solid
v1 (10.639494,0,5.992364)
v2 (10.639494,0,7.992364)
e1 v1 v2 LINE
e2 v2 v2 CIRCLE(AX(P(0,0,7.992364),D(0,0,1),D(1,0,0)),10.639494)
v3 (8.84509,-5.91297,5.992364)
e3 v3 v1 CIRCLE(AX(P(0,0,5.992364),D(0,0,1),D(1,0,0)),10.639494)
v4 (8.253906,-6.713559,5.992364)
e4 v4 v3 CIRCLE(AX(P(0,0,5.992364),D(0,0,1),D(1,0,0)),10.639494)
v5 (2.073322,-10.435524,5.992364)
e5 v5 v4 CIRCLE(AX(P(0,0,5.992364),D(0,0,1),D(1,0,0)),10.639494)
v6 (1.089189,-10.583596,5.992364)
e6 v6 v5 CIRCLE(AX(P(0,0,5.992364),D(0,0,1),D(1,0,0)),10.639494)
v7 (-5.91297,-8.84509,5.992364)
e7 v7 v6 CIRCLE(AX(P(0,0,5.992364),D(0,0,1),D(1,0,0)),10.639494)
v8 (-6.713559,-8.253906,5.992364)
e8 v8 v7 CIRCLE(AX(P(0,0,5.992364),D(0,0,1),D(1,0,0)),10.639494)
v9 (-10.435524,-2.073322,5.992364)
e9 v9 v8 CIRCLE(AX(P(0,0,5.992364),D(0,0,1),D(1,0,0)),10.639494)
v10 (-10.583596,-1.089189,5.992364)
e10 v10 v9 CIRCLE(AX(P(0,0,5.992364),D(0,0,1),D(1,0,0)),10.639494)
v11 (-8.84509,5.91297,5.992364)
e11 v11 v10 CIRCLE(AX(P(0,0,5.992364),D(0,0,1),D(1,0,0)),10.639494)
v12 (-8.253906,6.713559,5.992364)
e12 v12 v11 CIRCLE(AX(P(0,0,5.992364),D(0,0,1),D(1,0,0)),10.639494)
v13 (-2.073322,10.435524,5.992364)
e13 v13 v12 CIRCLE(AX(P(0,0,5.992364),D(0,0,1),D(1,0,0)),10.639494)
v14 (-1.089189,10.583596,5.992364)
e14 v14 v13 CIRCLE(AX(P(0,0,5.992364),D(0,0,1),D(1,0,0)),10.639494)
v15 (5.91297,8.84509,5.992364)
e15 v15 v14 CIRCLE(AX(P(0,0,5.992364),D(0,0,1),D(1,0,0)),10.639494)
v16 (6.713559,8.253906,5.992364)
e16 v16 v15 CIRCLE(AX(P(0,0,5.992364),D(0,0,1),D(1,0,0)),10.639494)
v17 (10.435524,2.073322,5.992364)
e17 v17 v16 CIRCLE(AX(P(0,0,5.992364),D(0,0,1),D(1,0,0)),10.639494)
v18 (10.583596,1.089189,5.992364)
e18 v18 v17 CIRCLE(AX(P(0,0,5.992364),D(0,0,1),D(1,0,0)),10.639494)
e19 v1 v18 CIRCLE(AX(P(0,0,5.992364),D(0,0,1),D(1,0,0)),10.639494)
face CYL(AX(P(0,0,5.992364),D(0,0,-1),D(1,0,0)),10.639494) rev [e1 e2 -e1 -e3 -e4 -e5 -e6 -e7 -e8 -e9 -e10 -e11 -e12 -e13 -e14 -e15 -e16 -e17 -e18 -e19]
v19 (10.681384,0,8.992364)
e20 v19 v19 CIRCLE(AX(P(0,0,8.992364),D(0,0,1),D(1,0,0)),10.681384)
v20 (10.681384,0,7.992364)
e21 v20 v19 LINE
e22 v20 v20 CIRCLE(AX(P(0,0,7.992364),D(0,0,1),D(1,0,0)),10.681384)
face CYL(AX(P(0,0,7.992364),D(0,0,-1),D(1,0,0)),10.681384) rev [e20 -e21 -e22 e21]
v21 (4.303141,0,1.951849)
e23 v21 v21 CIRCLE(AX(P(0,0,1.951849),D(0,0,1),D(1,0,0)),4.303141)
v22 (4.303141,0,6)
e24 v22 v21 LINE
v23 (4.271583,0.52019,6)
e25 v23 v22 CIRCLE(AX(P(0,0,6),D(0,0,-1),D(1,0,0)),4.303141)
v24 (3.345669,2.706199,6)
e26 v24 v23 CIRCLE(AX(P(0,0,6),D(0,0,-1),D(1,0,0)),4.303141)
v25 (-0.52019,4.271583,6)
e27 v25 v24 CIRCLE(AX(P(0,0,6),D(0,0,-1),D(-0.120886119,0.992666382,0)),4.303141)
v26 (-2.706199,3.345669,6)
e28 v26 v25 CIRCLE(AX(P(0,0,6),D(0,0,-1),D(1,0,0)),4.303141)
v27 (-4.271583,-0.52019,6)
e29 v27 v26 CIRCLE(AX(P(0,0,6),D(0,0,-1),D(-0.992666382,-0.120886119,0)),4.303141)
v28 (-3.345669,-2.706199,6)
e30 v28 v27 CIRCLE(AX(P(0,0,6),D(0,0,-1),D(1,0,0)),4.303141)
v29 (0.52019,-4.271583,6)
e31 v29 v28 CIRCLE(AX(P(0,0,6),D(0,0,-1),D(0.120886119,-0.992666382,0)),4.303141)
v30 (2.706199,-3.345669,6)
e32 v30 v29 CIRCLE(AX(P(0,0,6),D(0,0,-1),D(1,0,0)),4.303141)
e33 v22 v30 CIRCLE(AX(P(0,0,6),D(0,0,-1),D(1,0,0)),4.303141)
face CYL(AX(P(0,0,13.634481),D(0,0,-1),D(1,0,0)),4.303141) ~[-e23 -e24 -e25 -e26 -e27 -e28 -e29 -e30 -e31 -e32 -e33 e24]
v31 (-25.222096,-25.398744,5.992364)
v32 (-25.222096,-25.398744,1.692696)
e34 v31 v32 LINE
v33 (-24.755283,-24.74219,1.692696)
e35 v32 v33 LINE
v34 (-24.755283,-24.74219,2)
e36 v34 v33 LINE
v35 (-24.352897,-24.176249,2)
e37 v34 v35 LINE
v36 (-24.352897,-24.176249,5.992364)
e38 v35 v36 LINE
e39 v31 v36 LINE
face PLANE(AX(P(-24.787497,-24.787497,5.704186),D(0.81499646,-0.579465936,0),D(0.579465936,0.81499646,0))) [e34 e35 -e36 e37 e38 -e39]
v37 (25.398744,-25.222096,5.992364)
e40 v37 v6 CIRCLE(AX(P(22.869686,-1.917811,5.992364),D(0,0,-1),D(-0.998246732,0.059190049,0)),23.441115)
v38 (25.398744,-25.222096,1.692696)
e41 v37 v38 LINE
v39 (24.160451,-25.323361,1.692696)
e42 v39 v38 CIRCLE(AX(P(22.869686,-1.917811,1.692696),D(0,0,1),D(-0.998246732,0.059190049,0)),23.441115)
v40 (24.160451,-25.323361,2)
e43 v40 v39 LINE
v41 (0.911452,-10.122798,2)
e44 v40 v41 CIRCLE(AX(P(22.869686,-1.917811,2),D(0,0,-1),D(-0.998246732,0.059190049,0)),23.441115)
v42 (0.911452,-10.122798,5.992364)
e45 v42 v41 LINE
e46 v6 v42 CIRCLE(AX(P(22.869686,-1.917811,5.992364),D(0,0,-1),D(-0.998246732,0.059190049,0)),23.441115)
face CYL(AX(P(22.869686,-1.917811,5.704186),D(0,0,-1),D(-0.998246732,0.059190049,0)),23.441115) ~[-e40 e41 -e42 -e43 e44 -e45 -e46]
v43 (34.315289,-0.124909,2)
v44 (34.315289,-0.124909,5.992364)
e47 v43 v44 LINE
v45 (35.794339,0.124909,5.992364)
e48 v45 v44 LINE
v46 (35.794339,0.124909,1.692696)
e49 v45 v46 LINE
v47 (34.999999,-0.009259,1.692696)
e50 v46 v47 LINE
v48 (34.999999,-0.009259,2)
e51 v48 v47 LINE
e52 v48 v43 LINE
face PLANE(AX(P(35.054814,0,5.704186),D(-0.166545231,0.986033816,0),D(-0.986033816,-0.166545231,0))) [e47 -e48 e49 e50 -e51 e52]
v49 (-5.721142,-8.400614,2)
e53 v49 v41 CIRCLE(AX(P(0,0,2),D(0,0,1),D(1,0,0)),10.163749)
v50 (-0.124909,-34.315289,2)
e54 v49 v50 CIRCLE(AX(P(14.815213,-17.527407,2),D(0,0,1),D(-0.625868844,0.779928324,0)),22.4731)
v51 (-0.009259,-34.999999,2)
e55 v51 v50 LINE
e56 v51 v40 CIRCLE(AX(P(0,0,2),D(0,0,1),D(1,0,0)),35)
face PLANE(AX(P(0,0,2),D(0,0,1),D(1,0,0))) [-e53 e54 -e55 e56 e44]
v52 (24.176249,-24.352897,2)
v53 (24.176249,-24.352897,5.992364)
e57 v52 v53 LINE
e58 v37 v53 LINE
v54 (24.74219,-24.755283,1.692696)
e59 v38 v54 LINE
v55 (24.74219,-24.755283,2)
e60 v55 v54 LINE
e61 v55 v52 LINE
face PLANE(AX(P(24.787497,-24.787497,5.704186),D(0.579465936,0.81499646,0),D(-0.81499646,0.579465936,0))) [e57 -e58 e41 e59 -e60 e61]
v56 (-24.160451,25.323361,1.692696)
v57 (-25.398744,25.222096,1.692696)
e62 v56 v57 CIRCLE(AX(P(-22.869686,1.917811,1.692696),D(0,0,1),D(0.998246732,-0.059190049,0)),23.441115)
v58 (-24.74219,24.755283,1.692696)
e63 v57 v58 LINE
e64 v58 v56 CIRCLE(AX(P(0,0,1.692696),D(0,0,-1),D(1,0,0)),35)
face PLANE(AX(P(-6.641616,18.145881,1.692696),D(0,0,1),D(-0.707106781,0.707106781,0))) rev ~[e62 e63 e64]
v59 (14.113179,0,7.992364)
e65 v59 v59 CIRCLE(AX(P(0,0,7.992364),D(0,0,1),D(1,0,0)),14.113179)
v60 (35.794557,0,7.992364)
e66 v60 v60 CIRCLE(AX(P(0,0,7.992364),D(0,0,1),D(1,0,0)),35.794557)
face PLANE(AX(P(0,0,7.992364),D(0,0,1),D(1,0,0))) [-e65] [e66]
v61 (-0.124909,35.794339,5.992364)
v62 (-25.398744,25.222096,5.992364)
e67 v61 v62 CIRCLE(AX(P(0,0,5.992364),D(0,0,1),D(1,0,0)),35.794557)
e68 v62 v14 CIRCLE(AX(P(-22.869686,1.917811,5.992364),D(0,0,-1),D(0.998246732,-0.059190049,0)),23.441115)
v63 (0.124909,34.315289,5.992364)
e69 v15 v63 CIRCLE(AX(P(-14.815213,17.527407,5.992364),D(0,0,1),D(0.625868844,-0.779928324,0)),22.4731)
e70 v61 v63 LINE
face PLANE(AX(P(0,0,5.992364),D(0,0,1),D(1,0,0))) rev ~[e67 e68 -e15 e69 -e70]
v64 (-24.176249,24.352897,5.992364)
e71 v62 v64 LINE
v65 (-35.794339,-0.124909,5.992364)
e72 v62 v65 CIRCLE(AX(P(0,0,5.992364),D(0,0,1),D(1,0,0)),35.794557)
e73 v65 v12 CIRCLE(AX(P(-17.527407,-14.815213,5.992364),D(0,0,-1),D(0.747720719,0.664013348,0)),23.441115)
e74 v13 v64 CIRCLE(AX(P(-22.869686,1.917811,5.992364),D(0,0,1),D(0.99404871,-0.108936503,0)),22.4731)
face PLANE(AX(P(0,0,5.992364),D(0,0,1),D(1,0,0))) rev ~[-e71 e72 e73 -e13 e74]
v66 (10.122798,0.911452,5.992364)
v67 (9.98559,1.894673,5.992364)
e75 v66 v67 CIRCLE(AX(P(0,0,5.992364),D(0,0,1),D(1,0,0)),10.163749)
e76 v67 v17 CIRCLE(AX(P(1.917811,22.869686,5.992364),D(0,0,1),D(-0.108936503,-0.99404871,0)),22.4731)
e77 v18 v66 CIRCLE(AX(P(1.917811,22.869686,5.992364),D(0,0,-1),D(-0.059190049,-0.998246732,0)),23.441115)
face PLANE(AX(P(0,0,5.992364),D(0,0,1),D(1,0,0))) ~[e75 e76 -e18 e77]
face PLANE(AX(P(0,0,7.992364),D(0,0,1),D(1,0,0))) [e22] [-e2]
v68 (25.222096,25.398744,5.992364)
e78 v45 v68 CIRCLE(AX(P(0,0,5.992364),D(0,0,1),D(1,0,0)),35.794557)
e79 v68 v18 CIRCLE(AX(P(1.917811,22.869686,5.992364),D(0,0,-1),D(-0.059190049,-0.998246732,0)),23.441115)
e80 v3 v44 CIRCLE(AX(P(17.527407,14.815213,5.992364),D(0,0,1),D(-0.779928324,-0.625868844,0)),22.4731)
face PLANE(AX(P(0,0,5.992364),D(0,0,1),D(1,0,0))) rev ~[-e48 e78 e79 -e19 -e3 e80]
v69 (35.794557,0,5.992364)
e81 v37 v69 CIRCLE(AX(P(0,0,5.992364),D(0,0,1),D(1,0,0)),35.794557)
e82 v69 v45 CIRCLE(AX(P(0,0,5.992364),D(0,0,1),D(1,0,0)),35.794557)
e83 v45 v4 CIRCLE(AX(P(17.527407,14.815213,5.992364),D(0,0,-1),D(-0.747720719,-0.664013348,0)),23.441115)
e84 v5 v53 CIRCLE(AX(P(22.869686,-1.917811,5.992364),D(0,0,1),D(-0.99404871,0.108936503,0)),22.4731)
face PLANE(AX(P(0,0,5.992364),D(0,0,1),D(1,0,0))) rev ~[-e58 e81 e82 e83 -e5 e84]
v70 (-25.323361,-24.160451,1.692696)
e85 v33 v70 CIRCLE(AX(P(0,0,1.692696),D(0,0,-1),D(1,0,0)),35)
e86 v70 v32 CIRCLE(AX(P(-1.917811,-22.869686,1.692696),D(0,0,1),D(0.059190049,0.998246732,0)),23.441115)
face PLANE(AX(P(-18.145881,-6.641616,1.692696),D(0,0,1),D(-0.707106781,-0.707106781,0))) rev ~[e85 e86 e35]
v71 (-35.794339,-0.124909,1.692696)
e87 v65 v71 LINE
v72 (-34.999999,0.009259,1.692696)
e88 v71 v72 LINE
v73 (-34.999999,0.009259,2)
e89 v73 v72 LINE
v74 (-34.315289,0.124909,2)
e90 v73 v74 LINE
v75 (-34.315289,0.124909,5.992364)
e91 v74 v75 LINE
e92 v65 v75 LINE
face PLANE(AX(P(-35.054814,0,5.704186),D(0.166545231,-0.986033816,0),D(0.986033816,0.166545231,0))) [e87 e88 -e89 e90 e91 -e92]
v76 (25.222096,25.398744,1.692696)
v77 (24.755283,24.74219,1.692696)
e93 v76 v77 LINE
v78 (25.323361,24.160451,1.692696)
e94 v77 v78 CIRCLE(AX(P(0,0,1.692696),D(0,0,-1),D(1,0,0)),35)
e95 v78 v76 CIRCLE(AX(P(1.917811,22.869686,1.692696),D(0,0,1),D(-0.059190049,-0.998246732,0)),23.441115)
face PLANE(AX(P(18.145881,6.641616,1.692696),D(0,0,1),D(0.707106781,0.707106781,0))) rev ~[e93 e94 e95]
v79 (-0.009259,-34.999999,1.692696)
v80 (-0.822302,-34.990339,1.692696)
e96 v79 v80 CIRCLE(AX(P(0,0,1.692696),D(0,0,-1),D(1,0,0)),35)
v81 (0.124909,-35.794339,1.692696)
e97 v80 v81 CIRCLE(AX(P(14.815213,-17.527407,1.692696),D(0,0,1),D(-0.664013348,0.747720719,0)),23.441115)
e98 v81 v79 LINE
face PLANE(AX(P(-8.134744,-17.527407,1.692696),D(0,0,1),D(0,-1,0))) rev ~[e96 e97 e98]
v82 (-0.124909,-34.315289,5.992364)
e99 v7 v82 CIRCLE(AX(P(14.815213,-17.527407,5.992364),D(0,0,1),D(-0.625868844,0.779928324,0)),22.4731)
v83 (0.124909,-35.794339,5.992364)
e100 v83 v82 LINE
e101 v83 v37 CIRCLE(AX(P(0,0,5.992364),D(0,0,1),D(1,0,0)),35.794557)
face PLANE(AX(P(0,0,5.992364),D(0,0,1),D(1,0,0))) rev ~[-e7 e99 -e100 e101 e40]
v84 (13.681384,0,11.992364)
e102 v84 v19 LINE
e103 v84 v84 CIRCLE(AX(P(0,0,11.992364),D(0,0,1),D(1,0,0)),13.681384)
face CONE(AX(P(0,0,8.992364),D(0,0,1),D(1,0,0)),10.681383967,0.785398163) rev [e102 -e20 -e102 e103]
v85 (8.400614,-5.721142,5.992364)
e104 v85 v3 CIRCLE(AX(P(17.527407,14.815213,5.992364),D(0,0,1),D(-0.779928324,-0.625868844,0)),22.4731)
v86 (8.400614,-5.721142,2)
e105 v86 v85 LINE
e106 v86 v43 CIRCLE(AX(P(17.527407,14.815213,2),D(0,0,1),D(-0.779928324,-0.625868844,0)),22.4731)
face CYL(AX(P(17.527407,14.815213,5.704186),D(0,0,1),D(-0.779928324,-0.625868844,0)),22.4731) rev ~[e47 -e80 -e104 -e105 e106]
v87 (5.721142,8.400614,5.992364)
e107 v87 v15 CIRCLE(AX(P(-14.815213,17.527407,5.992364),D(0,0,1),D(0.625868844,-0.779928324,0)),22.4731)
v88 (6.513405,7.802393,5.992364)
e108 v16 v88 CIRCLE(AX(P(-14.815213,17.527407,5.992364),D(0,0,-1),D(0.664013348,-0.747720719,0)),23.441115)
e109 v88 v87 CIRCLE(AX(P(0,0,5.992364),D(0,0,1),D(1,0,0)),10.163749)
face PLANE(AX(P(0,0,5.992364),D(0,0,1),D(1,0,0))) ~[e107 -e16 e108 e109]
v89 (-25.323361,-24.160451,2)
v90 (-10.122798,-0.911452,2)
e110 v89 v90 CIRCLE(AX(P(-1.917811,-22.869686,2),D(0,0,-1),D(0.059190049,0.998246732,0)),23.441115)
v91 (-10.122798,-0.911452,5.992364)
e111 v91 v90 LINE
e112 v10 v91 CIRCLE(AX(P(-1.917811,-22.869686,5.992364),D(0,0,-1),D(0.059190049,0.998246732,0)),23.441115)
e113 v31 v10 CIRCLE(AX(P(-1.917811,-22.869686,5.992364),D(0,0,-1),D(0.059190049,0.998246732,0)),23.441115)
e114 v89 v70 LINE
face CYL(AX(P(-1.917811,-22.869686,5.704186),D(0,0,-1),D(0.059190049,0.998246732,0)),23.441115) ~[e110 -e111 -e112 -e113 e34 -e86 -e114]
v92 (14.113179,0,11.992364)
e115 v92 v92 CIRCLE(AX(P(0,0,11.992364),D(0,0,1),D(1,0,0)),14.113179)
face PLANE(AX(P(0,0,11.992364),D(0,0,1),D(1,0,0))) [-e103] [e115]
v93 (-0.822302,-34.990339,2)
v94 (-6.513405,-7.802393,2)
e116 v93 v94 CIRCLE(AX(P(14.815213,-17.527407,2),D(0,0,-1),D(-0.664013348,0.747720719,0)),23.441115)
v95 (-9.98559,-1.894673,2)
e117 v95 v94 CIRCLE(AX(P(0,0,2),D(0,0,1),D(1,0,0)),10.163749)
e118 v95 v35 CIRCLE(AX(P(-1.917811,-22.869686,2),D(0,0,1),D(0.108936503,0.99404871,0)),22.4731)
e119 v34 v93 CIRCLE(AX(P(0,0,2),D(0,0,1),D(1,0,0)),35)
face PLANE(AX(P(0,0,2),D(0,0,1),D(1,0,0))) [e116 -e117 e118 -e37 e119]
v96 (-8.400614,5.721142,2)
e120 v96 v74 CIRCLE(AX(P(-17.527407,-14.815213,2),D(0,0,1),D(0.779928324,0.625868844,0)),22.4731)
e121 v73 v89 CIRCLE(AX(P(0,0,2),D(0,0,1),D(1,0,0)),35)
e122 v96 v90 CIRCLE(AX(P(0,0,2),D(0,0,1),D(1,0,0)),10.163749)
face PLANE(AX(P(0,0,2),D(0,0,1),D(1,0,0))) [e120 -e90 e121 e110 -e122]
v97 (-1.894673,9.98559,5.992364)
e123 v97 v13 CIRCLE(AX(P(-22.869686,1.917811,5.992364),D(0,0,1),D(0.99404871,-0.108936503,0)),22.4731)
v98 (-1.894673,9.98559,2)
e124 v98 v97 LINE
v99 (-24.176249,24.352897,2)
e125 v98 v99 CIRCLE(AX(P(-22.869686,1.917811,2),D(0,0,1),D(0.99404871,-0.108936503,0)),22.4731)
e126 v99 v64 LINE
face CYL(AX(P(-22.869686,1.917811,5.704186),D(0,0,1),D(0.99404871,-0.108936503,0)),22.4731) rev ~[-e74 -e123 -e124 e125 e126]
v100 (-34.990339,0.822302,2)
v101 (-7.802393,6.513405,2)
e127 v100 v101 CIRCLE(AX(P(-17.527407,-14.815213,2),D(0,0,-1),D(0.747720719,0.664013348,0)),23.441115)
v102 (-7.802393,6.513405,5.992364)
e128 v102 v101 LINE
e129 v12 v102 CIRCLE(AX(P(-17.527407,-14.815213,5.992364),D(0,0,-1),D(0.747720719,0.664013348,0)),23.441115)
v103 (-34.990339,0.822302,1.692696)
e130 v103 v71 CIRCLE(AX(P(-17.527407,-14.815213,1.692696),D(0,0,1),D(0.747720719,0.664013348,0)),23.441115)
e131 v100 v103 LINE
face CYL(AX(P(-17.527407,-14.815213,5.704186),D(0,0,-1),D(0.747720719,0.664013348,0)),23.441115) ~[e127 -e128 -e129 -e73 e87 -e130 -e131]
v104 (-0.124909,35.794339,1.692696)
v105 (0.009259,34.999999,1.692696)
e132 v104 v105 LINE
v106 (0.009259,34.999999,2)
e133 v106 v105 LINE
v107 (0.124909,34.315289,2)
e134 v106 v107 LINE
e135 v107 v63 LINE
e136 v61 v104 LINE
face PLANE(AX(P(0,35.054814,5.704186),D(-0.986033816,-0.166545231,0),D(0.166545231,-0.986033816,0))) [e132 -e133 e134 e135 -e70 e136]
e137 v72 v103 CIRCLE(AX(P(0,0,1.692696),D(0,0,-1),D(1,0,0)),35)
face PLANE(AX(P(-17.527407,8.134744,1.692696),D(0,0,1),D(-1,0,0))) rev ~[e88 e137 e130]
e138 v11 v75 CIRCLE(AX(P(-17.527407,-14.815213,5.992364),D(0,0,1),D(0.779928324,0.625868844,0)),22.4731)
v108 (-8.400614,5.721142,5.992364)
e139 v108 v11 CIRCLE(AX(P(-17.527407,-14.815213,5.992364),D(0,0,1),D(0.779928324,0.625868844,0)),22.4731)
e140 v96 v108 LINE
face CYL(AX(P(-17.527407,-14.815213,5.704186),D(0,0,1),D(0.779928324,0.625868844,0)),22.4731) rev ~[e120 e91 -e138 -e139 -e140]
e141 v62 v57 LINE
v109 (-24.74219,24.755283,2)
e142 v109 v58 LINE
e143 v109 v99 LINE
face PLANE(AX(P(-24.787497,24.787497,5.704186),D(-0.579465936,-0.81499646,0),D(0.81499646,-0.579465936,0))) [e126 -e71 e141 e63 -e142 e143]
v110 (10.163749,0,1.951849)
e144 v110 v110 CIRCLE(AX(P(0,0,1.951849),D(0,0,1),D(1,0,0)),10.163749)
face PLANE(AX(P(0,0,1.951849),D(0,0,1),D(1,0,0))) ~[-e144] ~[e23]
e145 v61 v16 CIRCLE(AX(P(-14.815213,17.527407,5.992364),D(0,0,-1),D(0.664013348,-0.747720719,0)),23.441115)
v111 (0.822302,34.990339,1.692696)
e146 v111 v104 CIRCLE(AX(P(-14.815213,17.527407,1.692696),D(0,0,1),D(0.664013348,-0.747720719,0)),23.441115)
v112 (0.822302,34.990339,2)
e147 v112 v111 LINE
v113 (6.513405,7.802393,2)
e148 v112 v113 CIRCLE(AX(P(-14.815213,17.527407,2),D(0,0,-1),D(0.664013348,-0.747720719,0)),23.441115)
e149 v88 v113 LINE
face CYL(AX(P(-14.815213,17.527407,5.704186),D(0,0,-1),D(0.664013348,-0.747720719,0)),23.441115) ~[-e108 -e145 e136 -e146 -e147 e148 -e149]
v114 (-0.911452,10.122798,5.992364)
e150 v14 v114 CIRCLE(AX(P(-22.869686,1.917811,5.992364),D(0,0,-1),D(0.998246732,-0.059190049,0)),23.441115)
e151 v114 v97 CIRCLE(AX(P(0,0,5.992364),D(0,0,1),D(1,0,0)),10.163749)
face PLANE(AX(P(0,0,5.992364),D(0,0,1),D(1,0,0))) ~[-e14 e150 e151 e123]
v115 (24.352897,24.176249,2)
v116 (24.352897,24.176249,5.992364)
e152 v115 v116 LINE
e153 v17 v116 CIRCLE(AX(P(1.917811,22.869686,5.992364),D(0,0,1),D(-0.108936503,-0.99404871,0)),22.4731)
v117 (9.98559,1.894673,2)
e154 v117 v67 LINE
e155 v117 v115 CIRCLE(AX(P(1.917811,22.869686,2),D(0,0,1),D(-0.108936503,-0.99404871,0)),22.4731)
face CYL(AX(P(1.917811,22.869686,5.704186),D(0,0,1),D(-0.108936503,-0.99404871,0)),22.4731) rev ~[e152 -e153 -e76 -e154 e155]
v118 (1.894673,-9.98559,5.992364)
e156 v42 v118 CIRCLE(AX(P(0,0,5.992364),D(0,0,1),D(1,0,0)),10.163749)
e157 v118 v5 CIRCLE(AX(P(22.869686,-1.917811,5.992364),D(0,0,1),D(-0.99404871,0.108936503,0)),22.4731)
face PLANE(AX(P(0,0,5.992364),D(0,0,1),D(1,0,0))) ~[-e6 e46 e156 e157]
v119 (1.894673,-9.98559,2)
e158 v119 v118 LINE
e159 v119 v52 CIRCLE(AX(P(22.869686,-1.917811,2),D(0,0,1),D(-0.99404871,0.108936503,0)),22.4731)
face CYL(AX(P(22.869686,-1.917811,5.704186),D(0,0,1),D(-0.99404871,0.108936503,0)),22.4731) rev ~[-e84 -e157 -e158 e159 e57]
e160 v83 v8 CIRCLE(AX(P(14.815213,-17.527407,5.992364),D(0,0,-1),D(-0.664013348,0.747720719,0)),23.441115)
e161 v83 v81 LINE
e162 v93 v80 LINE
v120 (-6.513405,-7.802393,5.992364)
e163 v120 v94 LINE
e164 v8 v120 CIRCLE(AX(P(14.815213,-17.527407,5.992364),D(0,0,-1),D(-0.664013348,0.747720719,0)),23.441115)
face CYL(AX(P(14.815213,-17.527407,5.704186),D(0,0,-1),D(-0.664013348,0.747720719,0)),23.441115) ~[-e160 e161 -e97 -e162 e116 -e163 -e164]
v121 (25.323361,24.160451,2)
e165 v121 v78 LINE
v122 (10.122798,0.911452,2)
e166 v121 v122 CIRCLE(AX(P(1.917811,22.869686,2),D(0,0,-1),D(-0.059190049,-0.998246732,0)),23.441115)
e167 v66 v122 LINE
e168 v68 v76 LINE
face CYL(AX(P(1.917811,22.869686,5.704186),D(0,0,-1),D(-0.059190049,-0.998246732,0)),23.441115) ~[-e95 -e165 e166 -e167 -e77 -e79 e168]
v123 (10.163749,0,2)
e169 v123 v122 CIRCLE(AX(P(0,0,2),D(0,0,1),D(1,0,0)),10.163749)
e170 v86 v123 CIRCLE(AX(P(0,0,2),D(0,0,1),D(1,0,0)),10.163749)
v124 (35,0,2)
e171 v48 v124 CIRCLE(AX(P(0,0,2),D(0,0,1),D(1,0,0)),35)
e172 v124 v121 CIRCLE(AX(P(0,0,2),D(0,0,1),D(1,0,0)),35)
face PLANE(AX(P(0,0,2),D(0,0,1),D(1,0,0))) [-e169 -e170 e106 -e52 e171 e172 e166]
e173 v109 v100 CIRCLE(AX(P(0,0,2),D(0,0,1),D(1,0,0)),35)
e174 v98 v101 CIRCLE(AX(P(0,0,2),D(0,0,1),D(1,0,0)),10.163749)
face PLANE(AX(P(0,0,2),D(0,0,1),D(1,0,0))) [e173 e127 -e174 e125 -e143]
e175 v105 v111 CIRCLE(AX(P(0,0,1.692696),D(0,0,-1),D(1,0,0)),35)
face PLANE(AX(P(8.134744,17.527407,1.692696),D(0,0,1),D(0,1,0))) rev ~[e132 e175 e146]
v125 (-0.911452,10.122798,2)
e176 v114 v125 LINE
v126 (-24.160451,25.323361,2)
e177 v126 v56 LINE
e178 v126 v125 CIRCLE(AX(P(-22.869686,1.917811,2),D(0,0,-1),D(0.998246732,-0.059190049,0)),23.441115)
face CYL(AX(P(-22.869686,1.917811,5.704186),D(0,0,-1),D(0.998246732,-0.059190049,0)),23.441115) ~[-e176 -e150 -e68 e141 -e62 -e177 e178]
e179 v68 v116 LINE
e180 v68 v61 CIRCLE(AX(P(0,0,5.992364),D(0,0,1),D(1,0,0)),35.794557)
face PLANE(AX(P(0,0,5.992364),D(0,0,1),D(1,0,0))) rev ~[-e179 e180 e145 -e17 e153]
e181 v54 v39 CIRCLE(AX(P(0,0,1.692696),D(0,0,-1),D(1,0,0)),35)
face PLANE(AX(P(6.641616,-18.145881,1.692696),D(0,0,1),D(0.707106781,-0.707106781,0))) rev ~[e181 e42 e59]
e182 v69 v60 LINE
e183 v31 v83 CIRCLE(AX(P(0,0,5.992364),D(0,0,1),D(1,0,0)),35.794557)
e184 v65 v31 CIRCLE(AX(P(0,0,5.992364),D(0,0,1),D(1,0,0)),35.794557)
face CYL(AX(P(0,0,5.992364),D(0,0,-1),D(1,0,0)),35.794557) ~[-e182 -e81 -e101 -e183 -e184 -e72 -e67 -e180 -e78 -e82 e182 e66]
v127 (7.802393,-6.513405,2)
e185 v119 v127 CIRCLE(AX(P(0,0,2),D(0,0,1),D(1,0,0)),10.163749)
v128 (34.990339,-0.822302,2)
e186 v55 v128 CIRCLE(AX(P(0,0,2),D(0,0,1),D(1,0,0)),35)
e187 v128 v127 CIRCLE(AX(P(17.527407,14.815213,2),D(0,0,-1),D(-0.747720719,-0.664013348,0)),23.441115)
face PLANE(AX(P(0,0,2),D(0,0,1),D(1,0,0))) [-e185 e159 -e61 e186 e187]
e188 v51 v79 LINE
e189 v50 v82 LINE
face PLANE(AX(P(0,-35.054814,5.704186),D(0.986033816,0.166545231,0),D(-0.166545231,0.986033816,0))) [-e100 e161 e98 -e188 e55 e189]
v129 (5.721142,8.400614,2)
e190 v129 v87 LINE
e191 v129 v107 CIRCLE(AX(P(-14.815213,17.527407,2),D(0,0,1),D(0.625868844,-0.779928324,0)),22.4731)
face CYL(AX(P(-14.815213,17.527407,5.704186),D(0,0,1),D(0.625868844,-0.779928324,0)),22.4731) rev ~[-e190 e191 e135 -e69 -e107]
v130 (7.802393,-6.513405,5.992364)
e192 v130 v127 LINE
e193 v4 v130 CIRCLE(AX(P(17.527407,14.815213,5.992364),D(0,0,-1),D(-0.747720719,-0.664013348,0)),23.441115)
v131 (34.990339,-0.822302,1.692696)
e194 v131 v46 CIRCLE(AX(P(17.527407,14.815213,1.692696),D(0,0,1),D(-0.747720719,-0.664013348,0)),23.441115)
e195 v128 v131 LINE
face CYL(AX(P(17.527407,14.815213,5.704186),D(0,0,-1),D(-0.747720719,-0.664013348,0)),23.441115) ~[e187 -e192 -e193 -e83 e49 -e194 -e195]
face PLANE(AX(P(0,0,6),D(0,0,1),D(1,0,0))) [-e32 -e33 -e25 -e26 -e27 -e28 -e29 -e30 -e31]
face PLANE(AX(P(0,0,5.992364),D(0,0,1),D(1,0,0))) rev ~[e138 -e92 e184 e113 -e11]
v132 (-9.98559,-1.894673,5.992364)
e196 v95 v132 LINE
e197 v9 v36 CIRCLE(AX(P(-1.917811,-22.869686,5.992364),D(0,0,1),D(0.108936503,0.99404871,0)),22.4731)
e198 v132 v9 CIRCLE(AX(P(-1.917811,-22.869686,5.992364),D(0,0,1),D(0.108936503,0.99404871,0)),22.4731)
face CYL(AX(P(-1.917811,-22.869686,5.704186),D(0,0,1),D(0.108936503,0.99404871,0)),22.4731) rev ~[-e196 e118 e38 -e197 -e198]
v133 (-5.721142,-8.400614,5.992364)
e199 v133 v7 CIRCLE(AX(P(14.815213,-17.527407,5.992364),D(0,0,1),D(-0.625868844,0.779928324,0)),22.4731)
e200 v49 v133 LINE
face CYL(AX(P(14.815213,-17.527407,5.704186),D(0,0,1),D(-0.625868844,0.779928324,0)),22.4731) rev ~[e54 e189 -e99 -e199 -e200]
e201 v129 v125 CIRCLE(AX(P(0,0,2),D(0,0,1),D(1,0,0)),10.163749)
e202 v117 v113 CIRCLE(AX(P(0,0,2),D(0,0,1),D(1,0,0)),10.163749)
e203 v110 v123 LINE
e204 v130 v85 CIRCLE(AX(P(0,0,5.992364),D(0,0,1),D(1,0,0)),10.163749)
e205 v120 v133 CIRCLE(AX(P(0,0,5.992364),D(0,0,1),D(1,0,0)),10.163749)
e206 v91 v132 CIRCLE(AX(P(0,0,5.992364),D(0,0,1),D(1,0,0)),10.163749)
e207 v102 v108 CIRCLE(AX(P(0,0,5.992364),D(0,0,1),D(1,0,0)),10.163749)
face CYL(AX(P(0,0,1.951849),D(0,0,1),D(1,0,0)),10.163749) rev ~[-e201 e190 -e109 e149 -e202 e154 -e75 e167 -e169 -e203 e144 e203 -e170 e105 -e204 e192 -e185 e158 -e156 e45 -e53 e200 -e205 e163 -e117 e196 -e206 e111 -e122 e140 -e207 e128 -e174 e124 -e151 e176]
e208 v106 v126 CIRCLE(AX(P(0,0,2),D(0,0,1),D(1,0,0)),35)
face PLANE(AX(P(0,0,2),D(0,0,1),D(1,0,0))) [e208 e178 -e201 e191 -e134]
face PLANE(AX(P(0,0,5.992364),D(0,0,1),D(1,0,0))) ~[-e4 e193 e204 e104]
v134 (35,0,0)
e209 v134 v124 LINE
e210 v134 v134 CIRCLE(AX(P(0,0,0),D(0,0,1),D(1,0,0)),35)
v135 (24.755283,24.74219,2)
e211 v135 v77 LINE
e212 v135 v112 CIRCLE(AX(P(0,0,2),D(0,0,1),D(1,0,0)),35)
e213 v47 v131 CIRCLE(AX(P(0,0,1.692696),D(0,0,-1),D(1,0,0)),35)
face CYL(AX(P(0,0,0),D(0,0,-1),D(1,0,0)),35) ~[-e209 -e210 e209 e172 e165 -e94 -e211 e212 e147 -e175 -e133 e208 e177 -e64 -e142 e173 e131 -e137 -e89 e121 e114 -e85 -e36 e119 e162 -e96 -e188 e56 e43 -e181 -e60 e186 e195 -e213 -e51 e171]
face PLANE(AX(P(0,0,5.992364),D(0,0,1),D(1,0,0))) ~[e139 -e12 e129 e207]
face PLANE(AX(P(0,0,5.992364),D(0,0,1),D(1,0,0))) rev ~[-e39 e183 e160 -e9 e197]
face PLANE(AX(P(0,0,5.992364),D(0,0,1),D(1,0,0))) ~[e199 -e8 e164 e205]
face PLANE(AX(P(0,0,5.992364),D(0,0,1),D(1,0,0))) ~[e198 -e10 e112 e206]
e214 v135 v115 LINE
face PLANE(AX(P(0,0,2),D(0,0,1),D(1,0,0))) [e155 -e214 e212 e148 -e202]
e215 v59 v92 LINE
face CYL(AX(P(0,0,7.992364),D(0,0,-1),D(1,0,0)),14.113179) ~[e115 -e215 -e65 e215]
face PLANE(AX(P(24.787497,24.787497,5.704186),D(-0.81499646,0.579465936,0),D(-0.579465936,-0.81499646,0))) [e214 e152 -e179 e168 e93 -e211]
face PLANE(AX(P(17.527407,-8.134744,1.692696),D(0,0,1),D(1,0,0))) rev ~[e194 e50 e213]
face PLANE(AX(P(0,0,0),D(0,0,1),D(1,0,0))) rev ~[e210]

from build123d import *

# Parameters (mm, degrees)
F0_R      = 35
F1_DEPTH  = 2
F2_R      = 5
F3_DEPTH  = 4
F4_W      = 1.5
F4_H      = 8.0229806336
F7_COUNT  = 8
F8_W      = 26.6654435545
F8_H      = 7.6421163976
F10_R     = 35.7945573746
F10_R_2   = 10.639493897
F11_DEPTH = 2
F12_R     = 7.8850304464
F13_DEPTH = 25
F14_R     = 14.11317868
F14_R_2   = 10.6813839673
F15_DEPTH = 4
F16_SIZE  = 3


with BuildPart() as f1:
    # F0 (on Top) → F1 (new body)
    with BuildSketch(Plane.XY):
        Circle(F0_R)
    extrude(amount=F1_DEPTH)



with BuildPart() as f3:
    # F2 (on face) → F3 (new body)
    with BuildSketch(Plane.XY.offset(2)):
        Circle(F2_R)
    extrude(amount=F3_DEPTH)


with BuildPart() as f6:
    # F6: sweep along a path in F5
    with BuildLine(Plane.XY) as f6_path:
        ThreePointArc((0, 0), (-8.1347441665, -17.5274070352), (0, -35.0548140705))
    # F4 (on Front) → F6 (sweep)
    with BuildSketch(Plane.XZ):
        with Locations((0, 5.7041863911)):
            Rectangle(F4_W, F4_H)
    sweep(path=f6_path.line)


with BuildPart() as f1_1:
    add(f1.part)

    add(f3.part)  # F7 merges F3

    add(f6.part)  # F7 merges F6
    # F7: F6 ×8 about axis
    f7_axis = Axis((0, 0, 6), (0, 0, 1))
    for i in range(1, F7_COUNT):
        add(f6.part.rotate(f7_axis, i * 360 / F7_COUNT))

    # F8 (on Front) → F9 (revolve, cut)
    with BuildSketch(Plane.XZ):
        with Locations((23.4964704141, 9.8134223372)):
            Rectangle(F8_W, F8_H)
        Polygon((10.1637486368, 5.9923641384), (10.1637486368, 13.634480536), (4.3031405658, 13.634480536), (4.3031405658, 1.9518490881), (10.1637486368, 1.9518490881), align=None)
    revolve(axis=Axis((0, 0, 0), (0, 0, 1)), mode=Mode.SUBTRACT)

    # F10 (on face) → F11 (join)
    with BuildSketch(Plane.XY.offset(5.9923641384)):
        Circle(F10_R)
        Circle(F10_R_2, mode=Mode.SUBTRACT)
    extrude(amount=F11_DEPTH)

    # F12 (on face) → F13 (cut)
    with BuildSketch(Plane.XY.offset(6)):
        Circle(F12_R)
        with BuildLine():
            ThreePointArc((-0.4521737471, -4.2793174258), (-1.6150666235, -3.9885559455), (-2.6526354387, -3.3882951404))
            ThreePointArc((-2.6526354387, -3.3882951404), (-1.6440902169, -2.2260491927), (-0.5583723561, -1.1355466324))
            ThreePointArc((-0.5583723561, -1.1355466324), (-0.5580653725, -2.7092153878), (-0.4521737471, -4.2793174258))
        make_face(mode=Mode.SUBTRACT)
        with BuildLine():
            ThreePointArc((-3.3456694935, -2.7061992478), (-3.9623595177, -1.6783103947), (-4.2715829771, -0.5201899637))
            ThreePointArc((-4.2715829771, -0.5201899637), (-2.7366018207, -0.4115071382), (-1.1977816036, -0.4081238447))
            ThreePointArc((-1.1977816036, -0.4081238447), (-2.3103163817, -1.5210927632), (-3.3456694935, -2.7061992478))
        make_face(mode=Mode.SUBTRACT)
        with BuildLine():
            ThreePointArc((2.7061992478, -3.3456694935), (1.6783103947, -3.9623595177), (0.5201899637, -4.2715829771))
            ThreePointArc((0.5201899637, -4.2715829771), (0.4115071382, -2.7366018207), (0.4081238447, -1.1977816036))
            ThreePointArc((0.4081238447, -1.1977816036), (1.5210927632, -2.3103163817), (2.7061992478, -3.3456694935))
        make_face(mode=Mode.SUBTRACT)
        with BuildLine():
            ThreePointArc((4.2793174258, -0.4521737471), (3.9885559455, -1.6150666235), (3.3882951404, -2.6526354387))
            ThreePointArc((3.3882951404, -2.6526354387), (2.2260491927, -1.6440902169), (1.1355466324, -0.5583723561))
            ThreePointArc((1.1355466324, -0.5583723561), (2.7092153878, -0.5580653725), (4.2793174258, -0.4521737471))
        make_face(mode=Mode.SUBTRACT)
        with BuildLine():
            ThreePointArc((-4.2793174258, 0.4521737471), (-3.9885559455, 1.6150666235), (-3.3882951404, 2.6526354387))
            ThreePointArc((-3.3882951404, 2.6526354387), (-2.2260491927, 1.6440902169), (-1.1355466324, 0.5583723561))
            ThreePointArc((-1.1355466324, 0.5583723561), (-2.7092153878, 0.5580653725), (-4.2793174258, 0.4521737471))
        make_face(mode=Mode.SUBTRACT)
        with BuildLine():
            ThreePointArc((-2.7061992478, 3.3456694935), (-1.6783103947, 3.9623595177), (-0.5201899637, 4.2715829771))
            ThreePointArc((-0.5201899637, 4.2715829771), (-0.4115071382, 2.7366018207), (-0.4081238447, 1.1977816036))
            ThreePointArc((-0.4081238447, 1.1977816036), (-1.5210927632, 2.3103163817), (-2.7061992478, 3.3456694935))
        make_face(mode=Mode.SUBTRACT)
        with BuildLine():
            ThreePointArc((3.3456694935, 2.7061992478), (3.9623595177, 1.6783103947), (4.2715829771, 0.5201899637))
            ThreePointArc((4.2715829771, 0.5201899637), (2.7366018207, 0.4115071382), (1.1977816036, 0.4081238447))
            ThreePointArc((1.1977816036, 0.4081238447), (2.3103163817, 1.5210927632), (3.3456694935, 2.7061992478))
        make_face(mode=Mode.SUBTRACT)
        with BuildLine():
            ThreePointArc((0.4521737471, 4.2793174258), (1.6150666235, 3.9885559455), (2.6526354387, 3.3882951404))
            ThreePointArc((2.6526354387, 3.3882951404), (1.6440902169, 2.2260491927), (0.5583723561, 1.1355466324))
            ThreePointArc((0.5583723561, 1.1355466324), (0.5580653725, 2.7092153878), (0.4521737471, 4.2793174258))
        make_face(mode=Mode.SUBTRACT)
    extrude(amount=F13_DEPTH, mode=Mode.SUBTRACT)

    # F14 (on face) → F15 (join)
    with BuildSketch(Plane.XY.offset(7.9923641384)):
        Circle(F14_R)
        Circle(F14_R_2, mode=Mode.SUBTRACT)
    extrude(amount=F15_DEPTH)

    # F16
    f16_edges = [f1_1.edges().sort_by_distance(p)[0] for p in [
        (-10.681384, 0, 11.992364),
    ]]
    chamfer(f16_edges, length=F16_SIZE)


solid = f1_1.part
